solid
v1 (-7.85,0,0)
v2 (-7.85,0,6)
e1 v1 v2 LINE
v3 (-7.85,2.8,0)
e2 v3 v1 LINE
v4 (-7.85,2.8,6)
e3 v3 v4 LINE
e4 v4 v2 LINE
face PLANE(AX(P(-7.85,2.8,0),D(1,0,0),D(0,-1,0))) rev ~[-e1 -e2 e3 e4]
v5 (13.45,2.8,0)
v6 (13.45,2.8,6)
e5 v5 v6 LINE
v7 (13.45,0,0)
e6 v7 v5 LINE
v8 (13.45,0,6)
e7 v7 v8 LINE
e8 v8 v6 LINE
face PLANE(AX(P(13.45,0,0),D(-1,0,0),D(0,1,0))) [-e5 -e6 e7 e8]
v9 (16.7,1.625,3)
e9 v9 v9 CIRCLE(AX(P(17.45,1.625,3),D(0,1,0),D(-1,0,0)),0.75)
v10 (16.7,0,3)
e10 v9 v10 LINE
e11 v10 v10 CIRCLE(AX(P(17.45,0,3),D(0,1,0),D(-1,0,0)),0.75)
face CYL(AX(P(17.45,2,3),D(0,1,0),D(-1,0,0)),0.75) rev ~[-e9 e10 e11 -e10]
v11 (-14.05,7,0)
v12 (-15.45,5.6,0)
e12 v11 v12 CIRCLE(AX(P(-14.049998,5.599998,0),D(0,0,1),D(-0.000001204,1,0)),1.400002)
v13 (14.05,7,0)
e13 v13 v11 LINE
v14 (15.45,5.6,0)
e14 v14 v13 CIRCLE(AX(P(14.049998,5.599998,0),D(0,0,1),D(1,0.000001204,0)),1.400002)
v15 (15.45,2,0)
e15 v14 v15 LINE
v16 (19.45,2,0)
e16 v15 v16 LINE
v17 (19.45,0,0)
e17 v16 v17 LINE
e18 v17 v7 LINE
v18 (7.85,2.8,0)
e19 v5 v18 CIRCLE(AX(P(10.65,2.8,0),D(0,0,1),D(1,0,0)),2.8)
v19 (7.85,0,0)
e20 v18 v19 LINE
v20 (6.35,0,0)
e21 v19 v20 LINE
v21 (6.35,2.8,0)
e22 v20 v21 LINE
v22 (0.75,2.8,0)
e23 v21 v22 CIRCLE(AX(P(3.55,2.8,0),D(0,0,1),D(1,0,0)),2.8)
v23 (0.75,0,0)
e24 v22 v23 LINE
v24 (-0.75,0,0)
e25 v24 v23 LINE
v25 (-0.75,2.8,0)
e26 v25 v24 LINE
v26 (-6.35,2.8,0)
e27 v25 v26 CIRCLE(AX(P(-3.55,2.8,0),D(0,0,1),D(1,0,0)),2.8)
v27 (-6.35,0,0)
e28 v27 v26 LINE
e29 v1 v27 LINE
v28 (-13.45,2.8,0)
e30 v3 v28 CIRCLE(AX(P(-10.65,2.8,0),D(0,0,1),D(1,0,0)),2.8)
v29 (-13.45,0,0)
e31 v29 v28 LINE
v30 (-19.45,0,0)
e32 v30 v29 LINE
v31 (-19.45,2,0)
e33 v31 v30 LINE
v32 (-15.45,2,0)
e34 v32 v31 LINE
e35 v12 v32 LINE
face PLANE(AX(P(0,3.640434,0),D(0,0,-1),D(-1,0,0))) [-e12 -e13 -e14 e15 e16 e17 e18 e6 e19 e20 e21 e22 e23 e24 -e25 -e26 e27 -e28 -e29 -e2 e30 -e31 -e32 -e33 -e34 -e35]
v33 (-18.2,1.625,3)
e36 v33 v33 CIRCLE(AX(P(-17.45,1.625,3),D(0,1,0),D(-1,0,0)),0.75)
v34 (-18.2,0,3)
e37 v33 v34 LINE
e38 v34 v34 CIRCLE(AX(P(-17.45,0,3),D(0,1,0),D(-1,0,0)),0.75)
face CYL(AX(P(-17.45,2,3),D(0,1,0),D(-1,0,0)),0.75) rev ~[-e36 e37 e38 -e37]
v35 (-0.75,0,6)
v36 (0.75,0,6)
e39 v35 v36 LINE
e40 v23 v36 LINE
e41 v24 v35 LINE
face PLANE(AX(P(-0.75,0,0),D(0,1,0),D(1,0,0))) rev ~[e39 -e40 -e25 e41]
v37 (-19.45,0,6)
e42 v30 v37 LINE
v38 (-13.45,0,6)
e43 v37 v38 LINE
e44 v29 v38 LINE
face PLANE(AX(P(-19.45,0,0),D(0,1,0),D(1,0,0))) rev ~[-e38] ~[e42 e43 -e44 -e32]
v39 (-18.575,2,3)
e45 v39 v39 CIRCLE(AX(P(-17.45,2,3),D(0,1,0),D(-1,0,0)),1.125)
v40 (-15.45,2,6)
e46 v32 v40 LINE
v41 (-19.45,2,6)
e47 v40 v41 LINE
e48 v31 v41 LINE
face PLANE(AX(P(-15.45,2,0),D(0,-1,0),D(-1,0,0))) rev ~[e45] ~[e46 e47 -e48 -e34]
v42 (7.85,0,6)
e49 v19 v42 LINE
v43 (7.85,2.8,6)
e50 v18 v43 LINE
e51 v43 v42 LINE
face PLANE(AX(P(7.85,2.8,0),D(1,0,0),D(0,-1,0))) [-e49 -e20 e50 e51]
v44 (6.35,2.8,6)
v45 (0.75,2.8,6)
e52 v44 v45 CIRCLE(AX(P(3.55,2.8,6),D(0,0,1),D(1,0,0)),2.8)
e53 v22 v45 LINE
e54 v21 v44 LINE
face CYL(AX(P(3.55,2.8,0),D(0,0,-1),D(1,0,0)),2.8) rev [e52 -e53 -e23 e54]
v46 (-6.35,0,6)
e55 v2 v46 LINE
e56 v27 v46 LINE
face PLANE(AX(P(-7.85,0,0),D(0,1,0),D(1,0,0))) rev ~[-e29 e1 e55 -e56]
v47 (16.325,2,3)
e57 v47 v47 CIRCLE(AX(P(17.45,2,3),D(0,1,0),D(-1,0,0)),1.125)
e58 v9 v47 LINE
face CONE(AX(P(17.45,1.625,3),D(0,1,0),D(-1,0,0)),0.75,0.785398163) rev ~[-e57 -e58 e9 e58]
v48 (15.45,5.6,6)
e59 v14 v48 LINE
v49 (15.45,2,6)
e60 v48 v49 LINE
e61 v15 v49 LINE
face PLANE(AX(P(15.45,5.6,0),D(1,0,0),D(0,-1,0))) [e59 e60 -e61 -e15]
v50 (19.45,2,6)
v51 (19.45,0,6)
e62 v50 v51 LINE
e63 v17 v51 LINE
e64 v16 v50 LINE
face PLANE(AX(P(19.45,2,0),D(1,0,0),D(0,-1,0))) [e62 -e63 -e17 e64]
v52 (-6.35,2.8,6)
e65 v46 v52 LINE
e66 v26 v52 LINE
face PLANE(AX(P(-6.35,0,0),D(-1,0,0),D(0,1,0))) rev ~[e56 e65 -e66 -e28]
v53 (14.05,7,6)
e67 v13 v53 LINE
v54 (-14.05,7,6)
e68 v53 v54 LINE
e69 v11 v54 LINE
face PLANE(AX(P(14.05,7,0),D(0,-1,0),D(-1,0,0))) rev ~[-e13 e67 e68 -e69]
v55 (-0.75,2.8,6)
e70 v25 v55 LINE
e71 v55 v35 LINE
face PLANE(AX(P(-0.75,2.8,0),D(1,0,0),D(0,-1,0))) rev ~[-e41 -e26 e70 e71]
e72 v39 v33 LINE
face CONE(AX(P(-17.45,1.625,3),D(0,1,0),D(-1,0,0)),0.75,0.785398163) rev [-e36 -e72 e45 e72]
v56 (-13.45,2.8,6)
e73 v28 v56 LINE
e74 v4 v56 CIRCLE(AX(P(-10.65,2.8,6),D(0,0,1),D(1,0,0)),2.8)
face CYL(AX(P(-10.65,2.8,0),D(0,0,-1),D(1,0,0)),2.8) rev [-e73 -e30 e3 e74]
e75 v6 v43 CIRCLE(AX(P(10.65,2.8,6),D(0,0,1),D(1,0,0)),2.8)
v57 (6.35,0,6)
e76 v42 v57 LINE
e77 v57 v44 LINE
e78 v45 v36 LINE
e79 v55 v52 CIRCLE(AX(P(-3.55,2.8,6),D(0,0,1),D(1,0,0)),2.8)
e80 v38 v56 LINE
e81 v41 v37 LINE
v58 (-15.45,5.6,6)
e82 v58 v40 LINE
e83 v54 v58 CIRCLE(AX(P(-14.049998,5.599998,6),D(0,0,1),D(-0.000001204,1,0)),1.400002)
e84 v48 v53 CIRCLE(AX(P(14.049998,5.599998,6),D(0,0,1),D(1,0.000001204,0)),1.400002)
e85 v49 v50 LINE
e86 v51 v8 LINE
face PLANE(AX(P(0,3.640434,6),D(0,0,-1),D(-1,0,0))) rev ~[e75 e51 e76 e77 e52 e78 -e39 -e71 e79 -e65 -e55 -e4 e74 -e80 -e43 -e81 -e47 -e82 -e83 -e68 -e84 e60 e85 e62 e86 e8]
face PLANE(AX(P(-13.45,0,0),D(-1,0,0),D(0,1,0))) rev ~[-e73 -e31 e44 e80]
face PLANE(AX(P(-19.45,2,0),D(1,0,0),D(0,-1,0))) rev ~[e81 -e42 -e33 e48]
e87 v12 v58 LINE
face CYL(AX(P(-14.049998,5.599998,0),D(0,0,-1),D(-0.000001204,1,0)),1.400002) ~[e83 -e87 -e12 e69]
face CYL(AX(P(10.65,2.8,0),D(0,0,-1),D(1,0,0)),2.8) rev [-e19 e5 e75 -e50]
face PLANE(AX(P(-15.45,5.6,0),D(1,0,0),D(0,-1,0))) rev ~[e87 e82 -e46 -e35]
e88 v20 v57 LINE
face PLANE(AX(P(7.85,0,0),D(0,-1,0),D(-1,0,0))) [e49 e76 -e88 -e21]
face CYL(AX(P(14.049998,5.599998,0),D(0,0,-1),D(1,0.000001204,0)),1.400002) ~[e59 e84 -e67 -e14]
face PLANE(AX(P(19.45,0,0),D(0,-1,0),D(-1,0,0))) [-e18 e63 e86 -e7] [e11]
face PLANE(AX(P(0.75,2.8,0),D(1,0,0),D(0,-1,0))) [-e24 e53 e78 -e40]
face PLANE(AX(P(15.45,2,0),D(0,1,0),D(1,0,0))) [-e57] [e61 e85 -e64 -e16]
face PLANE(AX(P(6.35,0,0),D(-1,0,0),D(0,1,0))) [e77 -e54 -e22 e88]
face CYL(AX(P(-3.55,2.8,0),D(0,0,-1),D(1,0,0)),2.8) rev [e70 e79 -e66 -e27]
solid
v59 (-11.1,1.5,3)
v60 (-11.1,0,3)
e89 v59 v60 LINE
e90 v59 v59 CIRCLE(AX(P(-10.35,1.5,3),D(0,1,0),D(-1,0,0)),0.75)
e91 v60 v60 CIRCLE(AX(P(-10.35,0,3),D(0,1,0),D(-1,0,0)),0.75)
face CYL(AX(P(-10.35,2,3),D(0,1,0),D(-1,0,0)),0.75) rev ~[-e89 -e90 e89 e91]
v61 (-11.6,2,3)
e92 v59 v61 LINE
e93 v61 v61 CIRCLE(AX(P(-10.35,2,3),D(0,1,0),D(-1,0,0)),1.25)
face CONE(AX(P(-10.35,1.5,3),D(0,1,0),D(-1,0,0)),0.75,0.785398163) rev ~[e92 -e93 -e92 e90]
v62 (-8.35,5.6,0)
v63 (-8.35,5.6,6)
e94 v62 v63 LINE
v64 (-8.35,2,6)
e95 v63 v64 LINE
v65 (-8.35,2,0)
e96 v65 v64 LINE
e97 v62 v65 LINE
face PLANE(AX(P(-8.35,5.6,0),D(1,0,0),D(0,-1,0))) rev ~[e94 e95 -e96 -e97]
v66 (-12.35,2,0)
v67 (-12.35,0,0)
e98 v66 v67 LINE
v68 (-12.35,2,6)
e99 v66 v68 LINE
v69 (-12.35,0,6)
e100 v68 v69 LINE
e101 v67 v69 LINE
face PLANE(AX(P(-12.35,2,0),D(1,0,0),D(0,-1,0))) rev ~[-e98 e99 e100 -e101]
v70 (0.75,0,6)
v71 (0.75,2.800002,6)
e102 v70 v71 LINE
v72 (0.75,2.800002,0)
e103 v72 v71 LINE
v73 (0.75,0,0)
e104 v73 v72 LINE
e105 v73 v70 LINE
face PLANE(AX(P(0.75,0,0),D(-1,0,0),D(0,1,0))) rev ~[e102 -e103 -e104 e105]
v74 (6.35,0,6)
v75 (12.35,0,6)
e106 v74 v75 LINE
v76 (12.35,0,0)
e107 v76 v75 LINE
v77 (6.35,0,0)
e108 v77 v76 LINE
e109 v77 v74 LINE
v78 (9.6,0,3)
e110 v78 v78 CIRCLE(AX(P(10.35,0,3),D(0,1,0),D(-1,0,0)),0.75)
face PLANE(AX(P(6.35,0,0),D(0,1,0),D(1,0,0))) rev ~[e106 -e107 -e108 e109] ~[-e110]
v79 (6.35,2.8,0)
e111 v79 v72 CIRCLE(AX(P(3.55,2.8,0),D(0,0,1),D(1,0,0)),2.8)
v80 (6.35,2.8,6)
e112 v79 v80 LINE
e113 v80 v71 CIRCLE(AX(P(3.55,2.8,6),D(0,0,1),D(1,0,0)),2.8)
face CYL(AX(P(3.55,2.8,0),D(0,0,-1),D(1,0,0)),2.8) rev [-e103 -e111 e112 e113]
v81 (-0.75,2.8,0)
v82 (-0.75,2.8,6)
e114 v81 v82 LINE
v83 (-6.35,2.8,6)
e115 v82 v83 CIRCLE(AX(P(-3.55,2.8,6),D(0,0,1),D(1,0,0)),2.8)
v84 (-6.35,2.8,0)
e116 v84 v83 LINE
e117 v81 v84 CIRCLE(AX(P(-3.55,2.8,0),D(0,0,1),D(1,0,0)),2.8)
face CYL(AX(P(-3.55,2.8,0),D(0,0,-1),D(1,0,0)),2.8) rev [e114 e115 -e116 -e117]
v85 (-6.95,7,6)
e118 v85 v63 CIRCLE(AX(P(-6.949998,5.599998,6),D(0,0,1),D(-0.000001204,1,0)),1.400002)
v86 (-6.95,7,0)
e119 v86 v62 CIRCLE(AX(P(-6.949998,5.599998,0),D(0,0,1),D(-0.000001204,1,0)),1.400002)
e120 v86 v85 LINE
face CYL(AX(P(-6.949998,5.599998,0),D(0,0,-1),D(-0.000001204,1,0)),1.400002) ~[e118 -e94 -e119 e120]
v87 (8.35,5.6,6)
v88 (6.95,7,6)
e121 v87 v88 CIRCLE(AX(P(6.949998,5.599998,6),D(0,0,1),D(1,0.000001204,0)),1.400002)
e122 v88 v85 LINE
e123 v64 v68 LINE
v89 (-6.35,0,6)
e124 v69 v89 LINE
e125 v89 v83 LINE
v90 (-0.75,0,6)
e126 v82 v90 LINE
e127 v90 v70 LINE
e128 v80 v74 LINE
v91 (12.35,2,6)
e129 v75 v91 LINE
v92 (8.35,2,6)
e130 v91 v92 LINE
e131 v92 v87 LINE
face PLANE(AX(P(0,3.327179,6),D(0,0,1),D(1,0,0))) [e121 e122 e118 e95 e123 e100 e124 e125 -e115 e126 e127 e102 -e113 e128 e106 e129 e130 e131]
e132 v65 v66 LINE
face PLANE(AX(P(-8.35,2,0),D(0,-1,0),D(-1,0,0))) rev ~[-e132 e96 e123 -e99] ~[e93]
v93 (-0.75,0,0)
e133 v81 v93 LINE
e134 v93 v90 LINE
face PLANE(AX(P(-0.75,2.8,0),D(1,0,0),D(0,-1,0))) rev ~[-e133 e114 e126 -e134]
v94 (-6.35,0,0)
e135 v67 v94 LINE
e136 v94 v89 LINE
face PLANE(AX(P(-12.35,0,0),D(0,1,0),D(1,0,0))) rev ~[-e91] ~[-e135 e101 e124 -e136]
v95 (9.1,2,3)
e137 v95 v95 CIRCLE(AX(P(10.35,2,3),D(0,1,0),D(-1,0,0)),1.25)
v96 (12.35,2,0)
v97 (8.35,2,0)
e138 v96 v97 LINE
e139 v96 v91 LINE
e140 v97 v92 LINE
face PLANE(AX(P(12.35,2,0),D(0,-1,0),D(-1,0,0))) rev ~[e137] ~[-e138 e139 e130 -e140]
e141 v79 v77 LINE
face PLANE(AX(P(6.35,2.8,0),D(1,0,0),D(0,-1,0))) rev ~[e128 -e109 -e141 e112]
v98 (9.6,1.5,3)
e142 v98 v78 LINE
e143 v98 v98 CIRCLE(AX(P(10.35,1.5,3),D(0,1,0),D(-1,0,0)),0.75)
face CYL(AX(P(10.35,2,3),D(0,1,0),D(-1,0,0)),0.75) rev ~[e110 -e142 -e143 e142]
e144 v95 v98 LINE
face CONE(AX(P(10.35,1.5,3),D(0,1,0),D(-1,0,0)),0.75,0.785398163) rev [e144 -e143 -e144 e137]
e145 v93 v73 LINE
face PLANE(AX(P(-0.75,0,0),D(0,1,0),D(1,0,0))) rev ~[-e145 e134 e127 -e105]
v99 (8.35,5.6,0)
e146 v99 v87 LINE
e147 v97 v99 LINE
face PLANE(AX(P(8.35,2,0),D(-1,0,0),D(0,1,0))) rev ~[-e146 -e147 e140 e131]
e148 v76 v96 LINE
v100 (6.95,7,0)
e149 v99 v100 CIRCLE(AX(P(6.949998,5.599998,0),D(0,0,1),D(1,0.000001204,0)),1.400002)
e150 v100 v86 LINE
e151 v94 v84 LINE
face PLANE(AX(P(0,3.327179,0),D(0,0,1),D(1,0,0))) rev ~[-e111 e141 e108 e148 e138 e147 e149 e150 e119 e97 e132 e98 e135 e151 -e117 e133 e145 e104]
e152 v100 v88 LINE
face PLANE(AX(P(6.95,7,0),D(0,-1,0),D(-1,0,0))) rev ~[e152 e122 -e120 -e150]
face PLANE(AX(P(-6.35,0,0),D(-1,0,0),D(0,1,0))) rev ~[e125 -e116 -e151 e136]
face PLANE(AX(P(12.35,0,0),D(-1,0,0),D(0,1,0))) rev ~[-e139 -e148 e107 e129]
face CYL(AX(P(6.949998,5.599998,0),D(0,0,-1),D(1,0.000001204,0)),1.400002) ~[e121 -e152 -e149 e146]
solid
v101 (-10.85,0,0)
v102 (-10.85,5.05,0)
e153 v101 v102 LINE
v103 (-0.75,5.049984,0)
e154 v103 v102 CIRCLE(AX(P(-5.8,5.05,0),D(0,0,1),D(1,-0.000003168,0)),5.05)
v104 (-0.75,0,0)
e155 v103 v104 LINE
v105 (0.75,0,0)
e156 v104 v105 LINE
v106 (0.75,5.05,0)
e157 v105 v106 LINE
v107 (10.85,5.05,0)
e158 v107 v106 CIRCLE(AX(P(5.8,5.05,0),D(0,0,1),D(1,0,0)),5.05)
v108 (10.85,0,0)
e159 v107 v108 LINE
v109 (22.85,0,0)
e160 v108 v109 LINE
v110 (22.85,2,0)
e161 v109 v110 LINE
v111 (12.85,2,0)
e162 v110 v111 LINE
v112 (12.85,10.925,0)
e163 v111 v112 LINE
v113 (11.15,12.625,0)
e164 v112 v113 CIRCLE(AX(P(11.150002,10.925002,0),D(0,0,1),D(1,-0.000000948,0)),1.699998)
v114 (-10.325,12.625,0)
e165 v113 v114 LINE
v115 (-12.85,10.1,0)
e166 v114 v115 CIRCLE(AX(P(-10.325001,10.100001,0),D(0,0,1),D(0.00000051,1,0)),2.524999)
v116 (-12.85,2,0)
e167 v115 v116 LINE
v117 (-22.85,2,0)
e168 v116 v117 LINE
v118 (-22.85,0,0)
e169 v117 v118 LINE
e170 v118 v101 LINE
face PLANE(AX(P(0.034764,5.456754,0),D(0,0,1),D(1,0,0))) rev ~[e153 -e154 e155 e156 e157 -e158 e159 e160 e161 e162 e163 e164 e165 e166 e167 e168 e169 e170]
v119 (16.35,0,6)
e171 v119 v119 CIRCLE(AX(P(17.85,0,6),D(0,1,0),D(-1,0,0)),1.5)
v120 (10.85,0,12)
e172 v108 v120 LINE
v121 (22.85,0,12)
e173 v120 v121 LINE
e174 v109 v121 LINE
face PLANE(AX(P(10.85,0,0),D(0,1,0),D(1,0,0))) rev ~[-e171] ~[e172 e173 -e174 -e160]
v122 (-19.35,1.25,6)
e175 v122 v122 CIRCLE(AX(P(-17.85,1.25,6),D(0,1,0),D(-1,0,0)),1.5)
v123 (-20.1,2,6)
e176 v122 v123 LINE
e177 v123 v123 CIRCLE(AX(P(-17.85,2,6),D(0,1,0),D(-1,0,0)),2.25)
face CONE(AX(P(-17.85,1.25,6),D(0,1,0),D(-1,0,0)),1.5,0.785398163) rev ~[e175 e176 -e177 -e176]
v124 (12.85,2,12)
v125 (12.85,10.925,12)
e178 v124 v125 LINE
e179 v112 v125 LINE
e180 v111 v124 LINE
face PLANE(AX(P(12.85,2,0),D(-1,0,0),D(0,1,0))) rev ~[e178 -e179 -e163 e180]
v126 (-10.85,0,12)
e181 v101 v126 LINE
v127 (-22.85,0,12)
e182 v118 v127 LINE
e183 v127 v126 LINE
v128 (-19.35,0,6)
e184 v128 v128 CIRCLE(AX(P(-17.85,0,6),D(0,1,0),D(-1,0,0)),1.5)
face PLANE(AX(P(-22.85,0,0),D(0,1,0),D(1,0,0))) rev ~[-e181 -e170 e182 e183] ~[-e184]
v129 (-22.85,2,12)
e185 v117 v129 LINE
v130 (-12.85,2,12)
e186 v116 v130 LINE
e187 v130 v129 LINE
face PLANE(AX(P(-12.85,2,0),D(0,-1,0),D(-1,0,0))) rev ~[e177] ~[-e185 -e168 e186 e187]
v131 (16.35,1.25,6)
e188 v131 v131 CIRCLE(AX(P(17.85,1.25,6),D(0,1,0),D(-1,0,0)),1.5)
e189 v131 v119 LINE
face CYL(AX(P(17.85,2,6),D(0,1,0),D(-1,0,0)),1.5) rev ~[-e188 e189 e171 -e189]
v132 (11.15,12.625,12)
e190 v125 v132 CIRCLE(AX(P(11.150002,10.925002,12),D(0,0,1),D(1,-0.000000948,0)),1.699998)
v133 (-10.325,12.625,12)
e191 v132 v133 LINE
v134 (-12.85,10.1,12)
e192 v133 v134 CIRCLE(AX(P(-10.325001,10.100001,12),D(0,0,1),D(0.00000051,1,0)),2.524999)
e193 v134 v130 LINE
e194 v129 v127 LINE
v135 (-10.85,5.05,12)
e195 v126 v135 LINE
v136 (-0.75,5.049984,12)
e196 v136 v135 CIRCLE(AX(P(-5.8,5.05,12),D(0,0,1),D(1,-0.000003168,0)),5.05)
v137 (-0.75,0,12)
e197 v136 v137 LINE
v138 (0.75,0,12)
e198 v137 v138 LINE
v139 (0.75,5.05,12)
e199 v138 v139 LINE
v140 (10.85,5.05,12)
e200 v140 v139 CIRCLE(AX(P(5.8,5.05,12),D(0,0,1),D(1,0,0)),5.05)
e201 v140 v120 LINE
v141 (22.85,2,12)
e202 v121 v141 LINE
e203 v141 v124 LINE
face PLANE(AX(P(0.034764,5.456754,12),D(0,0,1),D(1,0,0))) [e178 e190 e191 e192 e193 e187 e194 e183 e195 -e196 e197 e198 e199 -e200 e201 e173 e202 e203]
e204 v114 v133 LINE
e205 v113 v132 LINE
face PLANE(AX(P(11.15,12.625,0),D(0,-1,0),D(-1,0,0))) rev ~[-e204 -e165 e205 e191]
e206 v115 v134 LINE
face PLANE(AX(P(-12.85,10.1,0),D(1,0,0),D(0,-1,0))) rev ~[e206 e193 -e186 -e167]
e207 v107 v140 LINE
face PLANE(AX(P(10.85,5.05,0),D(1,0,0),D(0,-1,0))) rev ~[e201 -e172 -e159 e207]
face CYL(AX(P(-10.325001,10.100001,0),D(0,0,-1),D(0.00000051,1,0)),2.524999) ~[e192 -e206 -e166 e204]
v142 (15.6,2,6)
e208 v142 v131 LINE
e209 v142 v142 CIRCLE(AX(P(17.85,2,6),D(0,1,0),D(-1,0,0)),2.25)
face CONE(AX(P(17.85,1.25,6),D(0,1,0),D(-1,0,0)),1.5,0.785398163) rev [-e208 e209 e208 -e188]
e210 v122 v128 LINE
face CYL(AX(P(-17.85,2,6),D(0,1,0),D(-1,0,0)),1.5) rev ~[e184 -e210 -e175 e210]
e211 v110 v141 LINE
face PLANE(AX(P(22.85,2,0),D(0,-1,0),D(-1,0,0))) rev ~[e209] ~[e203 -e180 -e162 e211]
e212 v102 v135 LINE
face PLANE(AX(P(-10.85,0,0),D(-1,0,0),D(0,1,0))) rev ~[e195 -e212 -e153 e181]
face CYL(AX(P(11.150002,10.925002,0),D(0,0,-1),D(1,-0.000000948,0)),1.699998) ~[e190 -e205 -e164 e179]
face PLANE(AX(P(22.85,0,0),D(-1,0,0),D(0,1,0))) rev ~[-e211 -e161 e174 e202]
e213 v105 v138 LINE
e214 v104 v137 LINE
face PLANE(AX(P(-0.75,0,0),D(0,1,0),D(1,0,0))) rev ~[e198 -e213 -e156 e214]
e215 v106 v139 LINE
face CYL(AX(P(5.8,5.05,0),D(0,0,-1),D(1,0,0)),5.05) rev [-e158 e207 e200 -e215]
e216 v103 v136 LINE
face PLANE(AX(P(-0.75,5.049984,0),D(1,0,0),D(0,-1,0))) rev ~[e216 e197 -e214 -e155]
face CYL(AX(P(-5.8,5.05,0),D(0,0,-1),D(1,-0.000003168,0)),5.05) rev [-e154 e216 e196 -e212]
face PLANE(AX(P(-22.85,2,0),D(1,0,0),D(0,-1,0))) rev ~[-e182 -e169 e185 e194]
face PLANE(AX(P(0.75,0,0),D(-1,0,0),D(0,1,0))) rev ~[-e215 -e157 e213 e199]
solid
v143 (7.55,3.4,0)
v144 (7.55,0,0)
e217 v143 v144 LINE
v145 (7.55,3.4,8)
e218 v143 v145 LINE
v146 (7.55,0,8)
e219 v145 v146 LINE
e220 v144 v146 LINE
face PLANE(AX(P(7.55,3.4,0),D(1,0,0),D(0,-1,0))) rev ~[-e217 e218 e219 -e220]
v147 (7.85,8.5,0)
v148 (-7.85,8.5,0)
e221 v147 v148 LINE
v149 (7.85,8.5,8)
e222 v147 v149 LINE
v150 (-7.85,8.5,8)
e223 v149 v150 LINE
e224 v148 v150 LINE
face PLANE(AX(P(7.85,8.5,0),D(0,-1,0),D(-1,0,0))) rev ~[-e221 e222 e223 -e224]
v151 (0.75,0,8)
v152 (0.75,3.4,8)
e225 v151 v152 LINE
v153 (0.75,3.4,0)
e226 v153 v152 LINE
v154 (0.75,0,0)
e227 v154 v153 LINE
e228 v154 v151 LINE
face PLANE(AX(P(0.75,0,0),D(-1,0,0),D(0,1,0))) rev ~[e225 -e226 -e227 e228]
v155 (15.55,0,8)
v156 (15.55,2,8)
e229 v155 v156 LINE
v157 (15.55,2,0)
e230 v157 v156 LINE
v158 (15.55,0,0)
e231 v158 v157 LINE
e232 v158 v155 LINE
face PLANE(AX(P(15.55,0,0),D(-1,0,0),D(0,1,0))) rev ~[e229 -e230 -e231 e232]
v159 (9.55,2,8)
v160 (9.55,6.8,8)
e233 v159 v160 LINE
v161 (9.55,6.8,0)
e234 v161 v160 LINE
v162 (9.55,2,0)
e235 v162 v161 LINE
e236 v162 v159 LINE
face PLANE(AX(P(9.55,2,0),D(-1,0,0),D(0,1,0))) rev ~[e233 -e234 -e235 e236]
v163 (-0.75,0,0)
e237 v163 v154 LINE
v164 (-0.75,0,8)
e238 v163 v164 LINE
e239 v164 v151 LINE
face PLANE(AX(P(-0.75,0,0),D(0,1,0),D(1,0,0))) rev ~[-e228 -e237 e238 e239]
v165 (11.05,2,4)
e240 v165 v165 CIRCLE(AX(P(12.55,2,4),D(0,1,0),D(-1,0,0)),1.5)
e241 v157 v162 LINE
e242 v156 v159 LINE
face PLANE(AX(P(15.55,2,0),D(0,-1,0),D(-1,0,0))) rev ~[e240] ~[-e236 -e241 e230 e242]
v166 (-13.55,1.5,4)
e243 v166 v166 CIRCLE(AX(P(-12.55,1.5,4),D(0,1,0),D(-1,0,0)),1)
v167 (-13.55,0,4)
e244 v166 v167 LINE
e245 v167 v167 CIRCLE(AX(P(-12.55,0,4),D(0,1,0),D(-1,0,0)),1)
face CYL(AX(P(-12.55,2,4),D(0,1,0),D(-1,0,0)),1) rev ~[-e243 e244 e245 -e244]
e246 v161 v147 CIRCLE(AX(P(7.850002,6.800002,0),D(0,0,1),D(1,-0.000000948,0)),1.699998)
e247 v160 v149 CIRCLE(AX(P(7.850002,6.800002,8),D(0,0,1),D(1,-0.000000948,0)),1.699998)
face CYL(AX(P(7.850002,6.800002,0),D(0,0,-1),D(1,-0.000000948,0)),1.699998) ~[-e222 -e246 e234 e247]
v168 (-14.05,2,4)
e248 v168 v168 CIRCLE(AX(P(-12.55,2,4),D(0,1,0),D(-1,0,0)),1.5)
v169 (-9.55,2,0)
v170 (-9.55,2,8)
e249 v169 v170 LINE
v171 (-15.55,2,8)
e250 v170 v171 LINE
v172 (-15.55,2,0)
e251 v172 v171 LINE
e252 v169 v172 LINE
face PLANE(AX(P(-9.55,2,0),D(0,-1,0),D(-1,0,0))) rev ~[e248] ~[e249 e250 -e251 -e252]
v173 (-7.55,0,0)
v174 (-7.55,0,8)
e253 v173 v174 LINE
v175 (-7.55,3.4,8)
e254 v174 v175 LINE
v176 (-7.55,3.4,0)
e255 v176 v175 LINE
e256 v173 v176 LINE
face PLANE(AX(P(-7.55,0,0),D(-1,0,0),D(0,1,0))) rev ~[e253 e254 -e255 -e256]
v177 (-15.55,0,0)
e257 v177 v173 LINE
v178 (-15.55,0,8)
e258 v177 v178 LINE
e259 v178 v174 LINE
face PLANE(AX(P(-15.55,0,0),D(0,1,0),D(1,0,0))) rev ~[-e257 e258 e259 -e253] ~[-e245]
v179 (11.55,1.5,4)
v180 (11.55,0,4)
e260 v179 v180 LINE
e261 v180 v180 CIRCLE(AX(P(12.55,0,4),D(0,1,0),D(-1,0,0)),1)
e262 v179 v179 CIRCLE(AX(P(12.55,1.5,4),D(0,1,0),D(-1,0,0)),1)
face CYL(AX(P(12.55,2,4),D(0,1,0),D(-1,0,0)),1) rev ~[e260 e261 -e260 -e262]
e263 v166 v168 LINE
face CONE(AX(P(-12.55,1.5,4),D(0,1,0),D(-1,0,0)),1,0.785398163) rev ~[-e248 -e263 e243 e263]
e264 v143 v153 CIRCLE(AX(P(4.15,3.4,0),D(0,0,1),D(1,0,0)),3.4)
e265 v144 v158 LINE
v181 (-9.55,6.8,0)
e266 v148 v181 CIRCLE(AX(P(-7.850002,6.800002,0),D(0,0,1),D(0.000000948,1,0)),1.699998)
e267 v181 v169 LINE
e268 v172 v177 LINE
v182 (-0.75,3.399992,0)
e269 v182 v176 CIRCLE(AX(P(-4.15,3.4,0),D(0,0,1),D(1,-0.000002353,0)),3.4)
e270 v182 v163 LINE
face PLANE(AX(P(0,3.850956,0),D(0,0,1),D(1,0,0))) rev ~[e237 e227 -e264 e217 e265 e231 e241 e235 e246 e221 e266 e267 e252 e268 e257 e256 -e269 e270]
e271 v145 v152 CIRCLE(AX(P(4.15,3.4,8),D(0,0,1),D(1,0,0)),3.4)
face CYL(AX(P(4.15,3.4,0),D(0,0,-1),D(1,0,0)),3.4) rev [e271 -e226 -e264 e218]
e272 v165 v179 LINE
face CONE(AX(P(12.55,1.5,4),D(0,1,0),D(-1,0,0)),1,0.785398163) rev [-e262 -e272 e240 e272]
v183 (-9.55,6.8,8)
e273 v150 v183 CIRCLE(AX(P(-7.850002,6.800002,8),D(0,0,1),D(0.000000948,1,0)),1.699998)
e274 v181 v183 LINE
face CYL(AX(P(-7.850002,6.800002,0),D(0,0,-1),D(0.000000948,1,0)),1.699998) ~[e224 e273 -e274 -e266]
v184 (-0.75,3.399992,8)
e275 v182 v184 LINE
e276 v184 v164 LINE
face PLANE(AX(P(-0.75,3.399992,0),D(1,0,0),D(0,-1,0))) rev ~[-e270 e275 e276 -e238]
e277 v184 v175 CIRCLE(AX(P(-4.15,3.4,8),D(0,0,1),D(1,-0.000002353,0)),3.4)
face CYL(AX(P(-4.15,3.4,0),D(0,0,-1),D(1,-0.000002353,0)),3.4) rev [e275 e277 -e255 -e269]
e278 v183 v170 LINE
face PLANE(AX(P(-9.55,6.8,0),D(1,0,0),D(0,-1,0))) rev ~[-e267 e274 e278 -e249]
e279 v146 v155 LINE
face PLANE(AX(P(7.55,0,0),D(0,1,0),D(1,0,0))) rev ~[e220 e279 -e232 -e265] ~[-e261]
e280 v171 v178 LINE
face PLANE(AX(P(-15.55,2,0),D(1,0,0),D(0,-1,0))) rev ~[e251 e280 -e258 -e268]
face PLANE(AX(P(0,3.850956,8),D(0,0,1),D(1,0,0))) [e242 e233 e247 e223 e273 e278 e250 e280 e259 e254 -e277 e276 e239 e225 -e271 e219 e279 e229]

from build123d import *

# Parameters (mm, degrees)
PAD_DEPTH       = 8
SKETCH001_R     = 1
POCKET_DEPTH    = 2
CHAMFER_SIZE    = 0.5
PAD001_DEPTH    = 12
SKETCH003_R     = 1.5
POCKET001_DEPTH = 3
CHAMFER001_SIZE = 0.75
PAD002_DEPTH    = 6
SKETCH005_R     = 0.75
POCKET002_DEPTH = 2
CHAMFER002_SIZE = 0.5
PAD003_DEPTH    = 6
SKETCH009_R     = 0.75
POCKET003_DEPTH = 2
CHAMFER003_SIZE = 0.375


with BuildPart() as f_2x8gbody:
    # Sketch → Pad (new body)
    with BuildSketch(Plane.XY):
        with BuildLine():
            Line((-15.55, 0), (-7.55, 0))
            Line((-7.55, 0), (-7.55, 3.4))
            ThreePointArc((-0.75, 3.399992), (-4.149996, 6.8), (-7.55, 3.4))
            Line((-0.75, 3.399992), (-0.75, 0))
            Line((-0.75, 0), (0.75, 0))
            Line((0.75, 0), (0.75, 3.4))
            ThreePointArc((7.55, 3.4), (4.15, 6.8), (0.75, 3.4))
            Line((7.55, 3.4), (7.55, 0))
            Line((7.55, 0), (15.55, 0))
            Line((15.55, 0), (15.55, 2))
            Line((15.55, 2), (9.55, 2))
            Line((9.55, 2), (9.55, 6.8))
            ThreePointArc((9.55, 6.8), (9.052082, 8.002082), (7.85, 8.5))
            Line((7.85, 8.5), (-7.85, 8.5))
            ThreePointArc((-7.85, 8.5), (-9.052082, 8.002082), (-9.55, 6.8))
            Line((-9.55, 6.8), (-9.55, 2))
            Line((-9.55, 2), (-15.55, 2))
            Line((-15.55, 2), (-15.55, 0))
        make_face()
    extrude(amount=PAD_DEPTH)

    # Sketch001 (on Face4 of Pad) → Pocket (cut)
    with BuildSketch(Plane(origin=(0, 2, 0), x_dir=(-1, 0, 0), z_dir=(0, 1, 0))):
        with Locations((-12.55, 4)):
            Circle(SKETCH001_R)
        with Locations((12.55, 4)):
            Circle(SKETCH001_R)
    extrude(amount=-POCKET_DEPTH, mode=Mode.SUBTRACT)

    # Chamfer
    chamfer_edges = [f_2x8gbody.edges().sort_by_distance(p)[0] for p in [
        (11.55, 1, 4),
        (-11.55, 2, 4),
        (13.55, 2, 4),
    ]]
    chamfer(chamfer_edges, length=CHAMFER_SIZE)


with BuildPart() as f_2x4gbody:
    # Sketch002 → Pad001 (new body)
    with BuildSketch(Plane.XY):
        with BuildLine():
            Line((-22.85, 0), (-10.85, 0))
            Line((-10.85, 0), (-10.85, 5.05))
            ThreePointArc((-0.75, 5.049984), (-5.799992, 10.1), (-10.85, 5.05))
            Line((-0.75, 5.049984), (-0.75, 0))
            Line((-0.75, 0), (0.75, 0))
            Line((0.75, 0), (0.75, 5.05))
            ThreePointArc((10.85, 5.05), (5.8, 10.1), (0.75, 5.05))
            Line((10.85, 5.05), (10.85, 0))
            Line((10.85, 0), (22.85, 0))
            Line((22.85, 0), (22.85, 2))
            Line((22.85, 2), (12.85, 2))
            Line((12.85, 2), (12.85, 10.925))
            ThreePointArc((12.85, 10.925), (12.352082, 12.127082), (11.15, 12.625))
            Line((11.15, 12.625), (-10.325, 12.625))
            ThreePointArc((-10.325, 12.625), (-12.110445, 11.885445), (-12.85, 10.1))
            Line((-12.85, 10.1), (-12.85, 2))
            Line((-12.85, 2), (-22.85, 2))
            Line((-22.85, 2), (-22.85, 0))
        make_face()
    extrude(amount=PAD001_DEPTH)

    # Sketch003 (on Face4 of Pad001) → Pocket001 (cut)
    with BuildSketch(Plane(origin=(0, 2, 0), x_dir=(-1, 0, 0), z_dir=(0, 1, 0))):
        with Locations((-17.85, 6)):
            Circle(SKETCH003_R)
        with Locations((17.85, 6)):
            Circle(SKETCH003_R)
    extrude(amount=-POCKET001_DEPTH, mode=Mode.SUBTRACT)

    # Chamfer001
    chamfer001_edges = [f_2x4gbody.edges().sort_by_distance(p)[0] for p in [
        (16.35, 1, 6),
        (-16.35, 2, 6),
        (19.35, 2, 6),
    ]]
    chamfer(chamfer001_edges, length=CHAMFER001_SIZE)


with BuildPart() as f_2x10gbody:
    # Sketch004 → Pad002 (new body)
    with BuildSketch(Plane.XY):
        with BuildLine():
            Line((-12.35, 0), (-6.35, 0))
            Line((-6.35, 0), (-6.35, 2.8))
            ThreePointArc((-0.75, 2.8), (-3.55, 5.6), (-6.35, 2.8))
            Line((-0.75, 2.8), (-0.75, 0))
            Line((-0.75, 0), (0.75, 0))
            Line((0.75, 0), (0.75, 2.800002))
            ThreePointArc((6.35, 2.8), (3.550001, 5.6), (0.75, 2.800002))
            Line((6.35, 2.8), (6.35, 0))
            Line((6.35, 0), (12.35, 0))
            Line((12.35, 0), (12.35, 2))
            Line((12.35, 2), (8.35, 2))
            Line((8.35, 2), (8.35, 5.6))
            ThreePointArc((8.35, 5.6), (7.939949, 6.589949), (6.95, 7))
            Line((6.95, 7), (-6.95, 7))
            ThreePointArc((-6.95, 7), (-7.939949, 6.589949), (-8.35, 5.6))
            Line((-8.35, 5.6), (-8.35, 2))
            Line((-8.35, 2), (-12.35, 2))
            Line((-12.35, 2), (-12.35, 0))
        make_face()
    extrude(amount=PAD002_DEPTH)

    # Sketch005 (on Face4 of Pad002) → Pocket002 (cut)
    with BuildSketch(Plane(origin=(0, 2, 0), x_dir=(-1, 0, 0), z_dir=(0, 1, 0))):
        with Locations((-10.35, 3)):
            Circle(SKETCH005_R)
        with Locations((10.35, 3)):
            Circle(SKETCH005_R)
    extrude(amount=-POCKET002_DEPTH, mode=Mode.SUBTRACT)

    # Chamfer002
    chamfer002_edges = [f_2x10gbody.edges().sort_by_distance(p)[0] for p in [
        (9.6, 1, 3),
        (-9.6, 2, 3),
        (11.1, 2, 3),
    ]]
    chamfer(chamfer002_edges, length=CHAMFER002_SIZE)


with BuildPart() as f_4x10gbody:
    # Sketch008 → Pad003 (new body)
    with BuildSketch(Plane.XY):
        with BuildLine():
            Line((19.45, 0), (13.45, 0))
            Line((13.45, 0), (13.45, 2.8))
            ThreePointArc((13.45, 2.8), (10.65, 5.6), (7.85, 2.8))
            Line((7.85, 2.8), (7.85, 0))
            Line((7.85, 0), (6.35, 0))
            Line((6.35, 0), (6.35, 2.8))
            ThreePointArc((6.35, 2.8), (3.55, 5.6), (0.75, 2.8))
            Line((0.75, 2.8), (0.75, 0))
            Line((0.75, 0), (0, 0))
            Line((-0.75, 0), (0, 0))
            Line((-0.75, 2.8), (-0.75, 0))
            ThreePointArc((-0.75, 2.8), (-3.55, 5.6), (-6.35, 2.8))
            Line((-6.35, 0), (-6.35, 2.8))
            Line((-7.85, 0), (-6.35, 0))
            Line((-7.85, 2.8), (-7.85, 0))
            ThreePointArc((-7.85, 2.8), (-10.65, 5.6), (-13.45, 2.8))
            Line((-13.45, 0), (-13.45, 2.8))
            Line((-19.45, 0), (-13.45, 0))
            Line((-19.45, 2), (-19.45, 0))
            Line((-15.45, 2), (-19.45, 2))
            Line((-15.45, 5.6), (-15.45, 2))
            ThreePointArc((-14.05, 7), (-15.039949, 6.589949), (-15.45, 5.6))
            Line((-14.05, 7), (0, 7))
            Line((14.05, 7), (0, 7))
            ThreePointArc((15.45, 5.6), (15.039949, 6.589949), (14.05, 7))
            Line((15.45, 5.6), (15.45, 2))
            Line((15.45, 2), (19.45, 2))
            Line((19.45, 2), (19.45, 0))
        make_face()
    extrude(amount=PAD003_DEPTH)

    # Sketch009 (on Face2 of Pad003) → Pocket003 (cut)
    with BuildSketch(Plane(origin=(0, 2, 0), x_dir=(-1, 0, 0), z_dir=(0, 1, 0))):
        with Locations((-17.45, 3)):
            Circle(SKETCH009_R)
        with Locations((17.45, 3)):
            Circle(SKETCH009_R)
    extrude(amount=-POCKET003_DEPTH, mode=Mode.SUBTRACT)

    # Chamfer003
    chamfer003_edges = [f_4x10gbody.edges().sort_by_distance(p)[0] for p in [
        (18.2, 2, 3),
        (-16.7, 2, 3),
    ]]
    chamfer(chamfer003_edges, length=CHAMFER003_SIZE)


solid = Compound([f_2x8gbody.part, f_2x4gbody.part, f_2x10gbody.part, f_4x10gbody.part])
